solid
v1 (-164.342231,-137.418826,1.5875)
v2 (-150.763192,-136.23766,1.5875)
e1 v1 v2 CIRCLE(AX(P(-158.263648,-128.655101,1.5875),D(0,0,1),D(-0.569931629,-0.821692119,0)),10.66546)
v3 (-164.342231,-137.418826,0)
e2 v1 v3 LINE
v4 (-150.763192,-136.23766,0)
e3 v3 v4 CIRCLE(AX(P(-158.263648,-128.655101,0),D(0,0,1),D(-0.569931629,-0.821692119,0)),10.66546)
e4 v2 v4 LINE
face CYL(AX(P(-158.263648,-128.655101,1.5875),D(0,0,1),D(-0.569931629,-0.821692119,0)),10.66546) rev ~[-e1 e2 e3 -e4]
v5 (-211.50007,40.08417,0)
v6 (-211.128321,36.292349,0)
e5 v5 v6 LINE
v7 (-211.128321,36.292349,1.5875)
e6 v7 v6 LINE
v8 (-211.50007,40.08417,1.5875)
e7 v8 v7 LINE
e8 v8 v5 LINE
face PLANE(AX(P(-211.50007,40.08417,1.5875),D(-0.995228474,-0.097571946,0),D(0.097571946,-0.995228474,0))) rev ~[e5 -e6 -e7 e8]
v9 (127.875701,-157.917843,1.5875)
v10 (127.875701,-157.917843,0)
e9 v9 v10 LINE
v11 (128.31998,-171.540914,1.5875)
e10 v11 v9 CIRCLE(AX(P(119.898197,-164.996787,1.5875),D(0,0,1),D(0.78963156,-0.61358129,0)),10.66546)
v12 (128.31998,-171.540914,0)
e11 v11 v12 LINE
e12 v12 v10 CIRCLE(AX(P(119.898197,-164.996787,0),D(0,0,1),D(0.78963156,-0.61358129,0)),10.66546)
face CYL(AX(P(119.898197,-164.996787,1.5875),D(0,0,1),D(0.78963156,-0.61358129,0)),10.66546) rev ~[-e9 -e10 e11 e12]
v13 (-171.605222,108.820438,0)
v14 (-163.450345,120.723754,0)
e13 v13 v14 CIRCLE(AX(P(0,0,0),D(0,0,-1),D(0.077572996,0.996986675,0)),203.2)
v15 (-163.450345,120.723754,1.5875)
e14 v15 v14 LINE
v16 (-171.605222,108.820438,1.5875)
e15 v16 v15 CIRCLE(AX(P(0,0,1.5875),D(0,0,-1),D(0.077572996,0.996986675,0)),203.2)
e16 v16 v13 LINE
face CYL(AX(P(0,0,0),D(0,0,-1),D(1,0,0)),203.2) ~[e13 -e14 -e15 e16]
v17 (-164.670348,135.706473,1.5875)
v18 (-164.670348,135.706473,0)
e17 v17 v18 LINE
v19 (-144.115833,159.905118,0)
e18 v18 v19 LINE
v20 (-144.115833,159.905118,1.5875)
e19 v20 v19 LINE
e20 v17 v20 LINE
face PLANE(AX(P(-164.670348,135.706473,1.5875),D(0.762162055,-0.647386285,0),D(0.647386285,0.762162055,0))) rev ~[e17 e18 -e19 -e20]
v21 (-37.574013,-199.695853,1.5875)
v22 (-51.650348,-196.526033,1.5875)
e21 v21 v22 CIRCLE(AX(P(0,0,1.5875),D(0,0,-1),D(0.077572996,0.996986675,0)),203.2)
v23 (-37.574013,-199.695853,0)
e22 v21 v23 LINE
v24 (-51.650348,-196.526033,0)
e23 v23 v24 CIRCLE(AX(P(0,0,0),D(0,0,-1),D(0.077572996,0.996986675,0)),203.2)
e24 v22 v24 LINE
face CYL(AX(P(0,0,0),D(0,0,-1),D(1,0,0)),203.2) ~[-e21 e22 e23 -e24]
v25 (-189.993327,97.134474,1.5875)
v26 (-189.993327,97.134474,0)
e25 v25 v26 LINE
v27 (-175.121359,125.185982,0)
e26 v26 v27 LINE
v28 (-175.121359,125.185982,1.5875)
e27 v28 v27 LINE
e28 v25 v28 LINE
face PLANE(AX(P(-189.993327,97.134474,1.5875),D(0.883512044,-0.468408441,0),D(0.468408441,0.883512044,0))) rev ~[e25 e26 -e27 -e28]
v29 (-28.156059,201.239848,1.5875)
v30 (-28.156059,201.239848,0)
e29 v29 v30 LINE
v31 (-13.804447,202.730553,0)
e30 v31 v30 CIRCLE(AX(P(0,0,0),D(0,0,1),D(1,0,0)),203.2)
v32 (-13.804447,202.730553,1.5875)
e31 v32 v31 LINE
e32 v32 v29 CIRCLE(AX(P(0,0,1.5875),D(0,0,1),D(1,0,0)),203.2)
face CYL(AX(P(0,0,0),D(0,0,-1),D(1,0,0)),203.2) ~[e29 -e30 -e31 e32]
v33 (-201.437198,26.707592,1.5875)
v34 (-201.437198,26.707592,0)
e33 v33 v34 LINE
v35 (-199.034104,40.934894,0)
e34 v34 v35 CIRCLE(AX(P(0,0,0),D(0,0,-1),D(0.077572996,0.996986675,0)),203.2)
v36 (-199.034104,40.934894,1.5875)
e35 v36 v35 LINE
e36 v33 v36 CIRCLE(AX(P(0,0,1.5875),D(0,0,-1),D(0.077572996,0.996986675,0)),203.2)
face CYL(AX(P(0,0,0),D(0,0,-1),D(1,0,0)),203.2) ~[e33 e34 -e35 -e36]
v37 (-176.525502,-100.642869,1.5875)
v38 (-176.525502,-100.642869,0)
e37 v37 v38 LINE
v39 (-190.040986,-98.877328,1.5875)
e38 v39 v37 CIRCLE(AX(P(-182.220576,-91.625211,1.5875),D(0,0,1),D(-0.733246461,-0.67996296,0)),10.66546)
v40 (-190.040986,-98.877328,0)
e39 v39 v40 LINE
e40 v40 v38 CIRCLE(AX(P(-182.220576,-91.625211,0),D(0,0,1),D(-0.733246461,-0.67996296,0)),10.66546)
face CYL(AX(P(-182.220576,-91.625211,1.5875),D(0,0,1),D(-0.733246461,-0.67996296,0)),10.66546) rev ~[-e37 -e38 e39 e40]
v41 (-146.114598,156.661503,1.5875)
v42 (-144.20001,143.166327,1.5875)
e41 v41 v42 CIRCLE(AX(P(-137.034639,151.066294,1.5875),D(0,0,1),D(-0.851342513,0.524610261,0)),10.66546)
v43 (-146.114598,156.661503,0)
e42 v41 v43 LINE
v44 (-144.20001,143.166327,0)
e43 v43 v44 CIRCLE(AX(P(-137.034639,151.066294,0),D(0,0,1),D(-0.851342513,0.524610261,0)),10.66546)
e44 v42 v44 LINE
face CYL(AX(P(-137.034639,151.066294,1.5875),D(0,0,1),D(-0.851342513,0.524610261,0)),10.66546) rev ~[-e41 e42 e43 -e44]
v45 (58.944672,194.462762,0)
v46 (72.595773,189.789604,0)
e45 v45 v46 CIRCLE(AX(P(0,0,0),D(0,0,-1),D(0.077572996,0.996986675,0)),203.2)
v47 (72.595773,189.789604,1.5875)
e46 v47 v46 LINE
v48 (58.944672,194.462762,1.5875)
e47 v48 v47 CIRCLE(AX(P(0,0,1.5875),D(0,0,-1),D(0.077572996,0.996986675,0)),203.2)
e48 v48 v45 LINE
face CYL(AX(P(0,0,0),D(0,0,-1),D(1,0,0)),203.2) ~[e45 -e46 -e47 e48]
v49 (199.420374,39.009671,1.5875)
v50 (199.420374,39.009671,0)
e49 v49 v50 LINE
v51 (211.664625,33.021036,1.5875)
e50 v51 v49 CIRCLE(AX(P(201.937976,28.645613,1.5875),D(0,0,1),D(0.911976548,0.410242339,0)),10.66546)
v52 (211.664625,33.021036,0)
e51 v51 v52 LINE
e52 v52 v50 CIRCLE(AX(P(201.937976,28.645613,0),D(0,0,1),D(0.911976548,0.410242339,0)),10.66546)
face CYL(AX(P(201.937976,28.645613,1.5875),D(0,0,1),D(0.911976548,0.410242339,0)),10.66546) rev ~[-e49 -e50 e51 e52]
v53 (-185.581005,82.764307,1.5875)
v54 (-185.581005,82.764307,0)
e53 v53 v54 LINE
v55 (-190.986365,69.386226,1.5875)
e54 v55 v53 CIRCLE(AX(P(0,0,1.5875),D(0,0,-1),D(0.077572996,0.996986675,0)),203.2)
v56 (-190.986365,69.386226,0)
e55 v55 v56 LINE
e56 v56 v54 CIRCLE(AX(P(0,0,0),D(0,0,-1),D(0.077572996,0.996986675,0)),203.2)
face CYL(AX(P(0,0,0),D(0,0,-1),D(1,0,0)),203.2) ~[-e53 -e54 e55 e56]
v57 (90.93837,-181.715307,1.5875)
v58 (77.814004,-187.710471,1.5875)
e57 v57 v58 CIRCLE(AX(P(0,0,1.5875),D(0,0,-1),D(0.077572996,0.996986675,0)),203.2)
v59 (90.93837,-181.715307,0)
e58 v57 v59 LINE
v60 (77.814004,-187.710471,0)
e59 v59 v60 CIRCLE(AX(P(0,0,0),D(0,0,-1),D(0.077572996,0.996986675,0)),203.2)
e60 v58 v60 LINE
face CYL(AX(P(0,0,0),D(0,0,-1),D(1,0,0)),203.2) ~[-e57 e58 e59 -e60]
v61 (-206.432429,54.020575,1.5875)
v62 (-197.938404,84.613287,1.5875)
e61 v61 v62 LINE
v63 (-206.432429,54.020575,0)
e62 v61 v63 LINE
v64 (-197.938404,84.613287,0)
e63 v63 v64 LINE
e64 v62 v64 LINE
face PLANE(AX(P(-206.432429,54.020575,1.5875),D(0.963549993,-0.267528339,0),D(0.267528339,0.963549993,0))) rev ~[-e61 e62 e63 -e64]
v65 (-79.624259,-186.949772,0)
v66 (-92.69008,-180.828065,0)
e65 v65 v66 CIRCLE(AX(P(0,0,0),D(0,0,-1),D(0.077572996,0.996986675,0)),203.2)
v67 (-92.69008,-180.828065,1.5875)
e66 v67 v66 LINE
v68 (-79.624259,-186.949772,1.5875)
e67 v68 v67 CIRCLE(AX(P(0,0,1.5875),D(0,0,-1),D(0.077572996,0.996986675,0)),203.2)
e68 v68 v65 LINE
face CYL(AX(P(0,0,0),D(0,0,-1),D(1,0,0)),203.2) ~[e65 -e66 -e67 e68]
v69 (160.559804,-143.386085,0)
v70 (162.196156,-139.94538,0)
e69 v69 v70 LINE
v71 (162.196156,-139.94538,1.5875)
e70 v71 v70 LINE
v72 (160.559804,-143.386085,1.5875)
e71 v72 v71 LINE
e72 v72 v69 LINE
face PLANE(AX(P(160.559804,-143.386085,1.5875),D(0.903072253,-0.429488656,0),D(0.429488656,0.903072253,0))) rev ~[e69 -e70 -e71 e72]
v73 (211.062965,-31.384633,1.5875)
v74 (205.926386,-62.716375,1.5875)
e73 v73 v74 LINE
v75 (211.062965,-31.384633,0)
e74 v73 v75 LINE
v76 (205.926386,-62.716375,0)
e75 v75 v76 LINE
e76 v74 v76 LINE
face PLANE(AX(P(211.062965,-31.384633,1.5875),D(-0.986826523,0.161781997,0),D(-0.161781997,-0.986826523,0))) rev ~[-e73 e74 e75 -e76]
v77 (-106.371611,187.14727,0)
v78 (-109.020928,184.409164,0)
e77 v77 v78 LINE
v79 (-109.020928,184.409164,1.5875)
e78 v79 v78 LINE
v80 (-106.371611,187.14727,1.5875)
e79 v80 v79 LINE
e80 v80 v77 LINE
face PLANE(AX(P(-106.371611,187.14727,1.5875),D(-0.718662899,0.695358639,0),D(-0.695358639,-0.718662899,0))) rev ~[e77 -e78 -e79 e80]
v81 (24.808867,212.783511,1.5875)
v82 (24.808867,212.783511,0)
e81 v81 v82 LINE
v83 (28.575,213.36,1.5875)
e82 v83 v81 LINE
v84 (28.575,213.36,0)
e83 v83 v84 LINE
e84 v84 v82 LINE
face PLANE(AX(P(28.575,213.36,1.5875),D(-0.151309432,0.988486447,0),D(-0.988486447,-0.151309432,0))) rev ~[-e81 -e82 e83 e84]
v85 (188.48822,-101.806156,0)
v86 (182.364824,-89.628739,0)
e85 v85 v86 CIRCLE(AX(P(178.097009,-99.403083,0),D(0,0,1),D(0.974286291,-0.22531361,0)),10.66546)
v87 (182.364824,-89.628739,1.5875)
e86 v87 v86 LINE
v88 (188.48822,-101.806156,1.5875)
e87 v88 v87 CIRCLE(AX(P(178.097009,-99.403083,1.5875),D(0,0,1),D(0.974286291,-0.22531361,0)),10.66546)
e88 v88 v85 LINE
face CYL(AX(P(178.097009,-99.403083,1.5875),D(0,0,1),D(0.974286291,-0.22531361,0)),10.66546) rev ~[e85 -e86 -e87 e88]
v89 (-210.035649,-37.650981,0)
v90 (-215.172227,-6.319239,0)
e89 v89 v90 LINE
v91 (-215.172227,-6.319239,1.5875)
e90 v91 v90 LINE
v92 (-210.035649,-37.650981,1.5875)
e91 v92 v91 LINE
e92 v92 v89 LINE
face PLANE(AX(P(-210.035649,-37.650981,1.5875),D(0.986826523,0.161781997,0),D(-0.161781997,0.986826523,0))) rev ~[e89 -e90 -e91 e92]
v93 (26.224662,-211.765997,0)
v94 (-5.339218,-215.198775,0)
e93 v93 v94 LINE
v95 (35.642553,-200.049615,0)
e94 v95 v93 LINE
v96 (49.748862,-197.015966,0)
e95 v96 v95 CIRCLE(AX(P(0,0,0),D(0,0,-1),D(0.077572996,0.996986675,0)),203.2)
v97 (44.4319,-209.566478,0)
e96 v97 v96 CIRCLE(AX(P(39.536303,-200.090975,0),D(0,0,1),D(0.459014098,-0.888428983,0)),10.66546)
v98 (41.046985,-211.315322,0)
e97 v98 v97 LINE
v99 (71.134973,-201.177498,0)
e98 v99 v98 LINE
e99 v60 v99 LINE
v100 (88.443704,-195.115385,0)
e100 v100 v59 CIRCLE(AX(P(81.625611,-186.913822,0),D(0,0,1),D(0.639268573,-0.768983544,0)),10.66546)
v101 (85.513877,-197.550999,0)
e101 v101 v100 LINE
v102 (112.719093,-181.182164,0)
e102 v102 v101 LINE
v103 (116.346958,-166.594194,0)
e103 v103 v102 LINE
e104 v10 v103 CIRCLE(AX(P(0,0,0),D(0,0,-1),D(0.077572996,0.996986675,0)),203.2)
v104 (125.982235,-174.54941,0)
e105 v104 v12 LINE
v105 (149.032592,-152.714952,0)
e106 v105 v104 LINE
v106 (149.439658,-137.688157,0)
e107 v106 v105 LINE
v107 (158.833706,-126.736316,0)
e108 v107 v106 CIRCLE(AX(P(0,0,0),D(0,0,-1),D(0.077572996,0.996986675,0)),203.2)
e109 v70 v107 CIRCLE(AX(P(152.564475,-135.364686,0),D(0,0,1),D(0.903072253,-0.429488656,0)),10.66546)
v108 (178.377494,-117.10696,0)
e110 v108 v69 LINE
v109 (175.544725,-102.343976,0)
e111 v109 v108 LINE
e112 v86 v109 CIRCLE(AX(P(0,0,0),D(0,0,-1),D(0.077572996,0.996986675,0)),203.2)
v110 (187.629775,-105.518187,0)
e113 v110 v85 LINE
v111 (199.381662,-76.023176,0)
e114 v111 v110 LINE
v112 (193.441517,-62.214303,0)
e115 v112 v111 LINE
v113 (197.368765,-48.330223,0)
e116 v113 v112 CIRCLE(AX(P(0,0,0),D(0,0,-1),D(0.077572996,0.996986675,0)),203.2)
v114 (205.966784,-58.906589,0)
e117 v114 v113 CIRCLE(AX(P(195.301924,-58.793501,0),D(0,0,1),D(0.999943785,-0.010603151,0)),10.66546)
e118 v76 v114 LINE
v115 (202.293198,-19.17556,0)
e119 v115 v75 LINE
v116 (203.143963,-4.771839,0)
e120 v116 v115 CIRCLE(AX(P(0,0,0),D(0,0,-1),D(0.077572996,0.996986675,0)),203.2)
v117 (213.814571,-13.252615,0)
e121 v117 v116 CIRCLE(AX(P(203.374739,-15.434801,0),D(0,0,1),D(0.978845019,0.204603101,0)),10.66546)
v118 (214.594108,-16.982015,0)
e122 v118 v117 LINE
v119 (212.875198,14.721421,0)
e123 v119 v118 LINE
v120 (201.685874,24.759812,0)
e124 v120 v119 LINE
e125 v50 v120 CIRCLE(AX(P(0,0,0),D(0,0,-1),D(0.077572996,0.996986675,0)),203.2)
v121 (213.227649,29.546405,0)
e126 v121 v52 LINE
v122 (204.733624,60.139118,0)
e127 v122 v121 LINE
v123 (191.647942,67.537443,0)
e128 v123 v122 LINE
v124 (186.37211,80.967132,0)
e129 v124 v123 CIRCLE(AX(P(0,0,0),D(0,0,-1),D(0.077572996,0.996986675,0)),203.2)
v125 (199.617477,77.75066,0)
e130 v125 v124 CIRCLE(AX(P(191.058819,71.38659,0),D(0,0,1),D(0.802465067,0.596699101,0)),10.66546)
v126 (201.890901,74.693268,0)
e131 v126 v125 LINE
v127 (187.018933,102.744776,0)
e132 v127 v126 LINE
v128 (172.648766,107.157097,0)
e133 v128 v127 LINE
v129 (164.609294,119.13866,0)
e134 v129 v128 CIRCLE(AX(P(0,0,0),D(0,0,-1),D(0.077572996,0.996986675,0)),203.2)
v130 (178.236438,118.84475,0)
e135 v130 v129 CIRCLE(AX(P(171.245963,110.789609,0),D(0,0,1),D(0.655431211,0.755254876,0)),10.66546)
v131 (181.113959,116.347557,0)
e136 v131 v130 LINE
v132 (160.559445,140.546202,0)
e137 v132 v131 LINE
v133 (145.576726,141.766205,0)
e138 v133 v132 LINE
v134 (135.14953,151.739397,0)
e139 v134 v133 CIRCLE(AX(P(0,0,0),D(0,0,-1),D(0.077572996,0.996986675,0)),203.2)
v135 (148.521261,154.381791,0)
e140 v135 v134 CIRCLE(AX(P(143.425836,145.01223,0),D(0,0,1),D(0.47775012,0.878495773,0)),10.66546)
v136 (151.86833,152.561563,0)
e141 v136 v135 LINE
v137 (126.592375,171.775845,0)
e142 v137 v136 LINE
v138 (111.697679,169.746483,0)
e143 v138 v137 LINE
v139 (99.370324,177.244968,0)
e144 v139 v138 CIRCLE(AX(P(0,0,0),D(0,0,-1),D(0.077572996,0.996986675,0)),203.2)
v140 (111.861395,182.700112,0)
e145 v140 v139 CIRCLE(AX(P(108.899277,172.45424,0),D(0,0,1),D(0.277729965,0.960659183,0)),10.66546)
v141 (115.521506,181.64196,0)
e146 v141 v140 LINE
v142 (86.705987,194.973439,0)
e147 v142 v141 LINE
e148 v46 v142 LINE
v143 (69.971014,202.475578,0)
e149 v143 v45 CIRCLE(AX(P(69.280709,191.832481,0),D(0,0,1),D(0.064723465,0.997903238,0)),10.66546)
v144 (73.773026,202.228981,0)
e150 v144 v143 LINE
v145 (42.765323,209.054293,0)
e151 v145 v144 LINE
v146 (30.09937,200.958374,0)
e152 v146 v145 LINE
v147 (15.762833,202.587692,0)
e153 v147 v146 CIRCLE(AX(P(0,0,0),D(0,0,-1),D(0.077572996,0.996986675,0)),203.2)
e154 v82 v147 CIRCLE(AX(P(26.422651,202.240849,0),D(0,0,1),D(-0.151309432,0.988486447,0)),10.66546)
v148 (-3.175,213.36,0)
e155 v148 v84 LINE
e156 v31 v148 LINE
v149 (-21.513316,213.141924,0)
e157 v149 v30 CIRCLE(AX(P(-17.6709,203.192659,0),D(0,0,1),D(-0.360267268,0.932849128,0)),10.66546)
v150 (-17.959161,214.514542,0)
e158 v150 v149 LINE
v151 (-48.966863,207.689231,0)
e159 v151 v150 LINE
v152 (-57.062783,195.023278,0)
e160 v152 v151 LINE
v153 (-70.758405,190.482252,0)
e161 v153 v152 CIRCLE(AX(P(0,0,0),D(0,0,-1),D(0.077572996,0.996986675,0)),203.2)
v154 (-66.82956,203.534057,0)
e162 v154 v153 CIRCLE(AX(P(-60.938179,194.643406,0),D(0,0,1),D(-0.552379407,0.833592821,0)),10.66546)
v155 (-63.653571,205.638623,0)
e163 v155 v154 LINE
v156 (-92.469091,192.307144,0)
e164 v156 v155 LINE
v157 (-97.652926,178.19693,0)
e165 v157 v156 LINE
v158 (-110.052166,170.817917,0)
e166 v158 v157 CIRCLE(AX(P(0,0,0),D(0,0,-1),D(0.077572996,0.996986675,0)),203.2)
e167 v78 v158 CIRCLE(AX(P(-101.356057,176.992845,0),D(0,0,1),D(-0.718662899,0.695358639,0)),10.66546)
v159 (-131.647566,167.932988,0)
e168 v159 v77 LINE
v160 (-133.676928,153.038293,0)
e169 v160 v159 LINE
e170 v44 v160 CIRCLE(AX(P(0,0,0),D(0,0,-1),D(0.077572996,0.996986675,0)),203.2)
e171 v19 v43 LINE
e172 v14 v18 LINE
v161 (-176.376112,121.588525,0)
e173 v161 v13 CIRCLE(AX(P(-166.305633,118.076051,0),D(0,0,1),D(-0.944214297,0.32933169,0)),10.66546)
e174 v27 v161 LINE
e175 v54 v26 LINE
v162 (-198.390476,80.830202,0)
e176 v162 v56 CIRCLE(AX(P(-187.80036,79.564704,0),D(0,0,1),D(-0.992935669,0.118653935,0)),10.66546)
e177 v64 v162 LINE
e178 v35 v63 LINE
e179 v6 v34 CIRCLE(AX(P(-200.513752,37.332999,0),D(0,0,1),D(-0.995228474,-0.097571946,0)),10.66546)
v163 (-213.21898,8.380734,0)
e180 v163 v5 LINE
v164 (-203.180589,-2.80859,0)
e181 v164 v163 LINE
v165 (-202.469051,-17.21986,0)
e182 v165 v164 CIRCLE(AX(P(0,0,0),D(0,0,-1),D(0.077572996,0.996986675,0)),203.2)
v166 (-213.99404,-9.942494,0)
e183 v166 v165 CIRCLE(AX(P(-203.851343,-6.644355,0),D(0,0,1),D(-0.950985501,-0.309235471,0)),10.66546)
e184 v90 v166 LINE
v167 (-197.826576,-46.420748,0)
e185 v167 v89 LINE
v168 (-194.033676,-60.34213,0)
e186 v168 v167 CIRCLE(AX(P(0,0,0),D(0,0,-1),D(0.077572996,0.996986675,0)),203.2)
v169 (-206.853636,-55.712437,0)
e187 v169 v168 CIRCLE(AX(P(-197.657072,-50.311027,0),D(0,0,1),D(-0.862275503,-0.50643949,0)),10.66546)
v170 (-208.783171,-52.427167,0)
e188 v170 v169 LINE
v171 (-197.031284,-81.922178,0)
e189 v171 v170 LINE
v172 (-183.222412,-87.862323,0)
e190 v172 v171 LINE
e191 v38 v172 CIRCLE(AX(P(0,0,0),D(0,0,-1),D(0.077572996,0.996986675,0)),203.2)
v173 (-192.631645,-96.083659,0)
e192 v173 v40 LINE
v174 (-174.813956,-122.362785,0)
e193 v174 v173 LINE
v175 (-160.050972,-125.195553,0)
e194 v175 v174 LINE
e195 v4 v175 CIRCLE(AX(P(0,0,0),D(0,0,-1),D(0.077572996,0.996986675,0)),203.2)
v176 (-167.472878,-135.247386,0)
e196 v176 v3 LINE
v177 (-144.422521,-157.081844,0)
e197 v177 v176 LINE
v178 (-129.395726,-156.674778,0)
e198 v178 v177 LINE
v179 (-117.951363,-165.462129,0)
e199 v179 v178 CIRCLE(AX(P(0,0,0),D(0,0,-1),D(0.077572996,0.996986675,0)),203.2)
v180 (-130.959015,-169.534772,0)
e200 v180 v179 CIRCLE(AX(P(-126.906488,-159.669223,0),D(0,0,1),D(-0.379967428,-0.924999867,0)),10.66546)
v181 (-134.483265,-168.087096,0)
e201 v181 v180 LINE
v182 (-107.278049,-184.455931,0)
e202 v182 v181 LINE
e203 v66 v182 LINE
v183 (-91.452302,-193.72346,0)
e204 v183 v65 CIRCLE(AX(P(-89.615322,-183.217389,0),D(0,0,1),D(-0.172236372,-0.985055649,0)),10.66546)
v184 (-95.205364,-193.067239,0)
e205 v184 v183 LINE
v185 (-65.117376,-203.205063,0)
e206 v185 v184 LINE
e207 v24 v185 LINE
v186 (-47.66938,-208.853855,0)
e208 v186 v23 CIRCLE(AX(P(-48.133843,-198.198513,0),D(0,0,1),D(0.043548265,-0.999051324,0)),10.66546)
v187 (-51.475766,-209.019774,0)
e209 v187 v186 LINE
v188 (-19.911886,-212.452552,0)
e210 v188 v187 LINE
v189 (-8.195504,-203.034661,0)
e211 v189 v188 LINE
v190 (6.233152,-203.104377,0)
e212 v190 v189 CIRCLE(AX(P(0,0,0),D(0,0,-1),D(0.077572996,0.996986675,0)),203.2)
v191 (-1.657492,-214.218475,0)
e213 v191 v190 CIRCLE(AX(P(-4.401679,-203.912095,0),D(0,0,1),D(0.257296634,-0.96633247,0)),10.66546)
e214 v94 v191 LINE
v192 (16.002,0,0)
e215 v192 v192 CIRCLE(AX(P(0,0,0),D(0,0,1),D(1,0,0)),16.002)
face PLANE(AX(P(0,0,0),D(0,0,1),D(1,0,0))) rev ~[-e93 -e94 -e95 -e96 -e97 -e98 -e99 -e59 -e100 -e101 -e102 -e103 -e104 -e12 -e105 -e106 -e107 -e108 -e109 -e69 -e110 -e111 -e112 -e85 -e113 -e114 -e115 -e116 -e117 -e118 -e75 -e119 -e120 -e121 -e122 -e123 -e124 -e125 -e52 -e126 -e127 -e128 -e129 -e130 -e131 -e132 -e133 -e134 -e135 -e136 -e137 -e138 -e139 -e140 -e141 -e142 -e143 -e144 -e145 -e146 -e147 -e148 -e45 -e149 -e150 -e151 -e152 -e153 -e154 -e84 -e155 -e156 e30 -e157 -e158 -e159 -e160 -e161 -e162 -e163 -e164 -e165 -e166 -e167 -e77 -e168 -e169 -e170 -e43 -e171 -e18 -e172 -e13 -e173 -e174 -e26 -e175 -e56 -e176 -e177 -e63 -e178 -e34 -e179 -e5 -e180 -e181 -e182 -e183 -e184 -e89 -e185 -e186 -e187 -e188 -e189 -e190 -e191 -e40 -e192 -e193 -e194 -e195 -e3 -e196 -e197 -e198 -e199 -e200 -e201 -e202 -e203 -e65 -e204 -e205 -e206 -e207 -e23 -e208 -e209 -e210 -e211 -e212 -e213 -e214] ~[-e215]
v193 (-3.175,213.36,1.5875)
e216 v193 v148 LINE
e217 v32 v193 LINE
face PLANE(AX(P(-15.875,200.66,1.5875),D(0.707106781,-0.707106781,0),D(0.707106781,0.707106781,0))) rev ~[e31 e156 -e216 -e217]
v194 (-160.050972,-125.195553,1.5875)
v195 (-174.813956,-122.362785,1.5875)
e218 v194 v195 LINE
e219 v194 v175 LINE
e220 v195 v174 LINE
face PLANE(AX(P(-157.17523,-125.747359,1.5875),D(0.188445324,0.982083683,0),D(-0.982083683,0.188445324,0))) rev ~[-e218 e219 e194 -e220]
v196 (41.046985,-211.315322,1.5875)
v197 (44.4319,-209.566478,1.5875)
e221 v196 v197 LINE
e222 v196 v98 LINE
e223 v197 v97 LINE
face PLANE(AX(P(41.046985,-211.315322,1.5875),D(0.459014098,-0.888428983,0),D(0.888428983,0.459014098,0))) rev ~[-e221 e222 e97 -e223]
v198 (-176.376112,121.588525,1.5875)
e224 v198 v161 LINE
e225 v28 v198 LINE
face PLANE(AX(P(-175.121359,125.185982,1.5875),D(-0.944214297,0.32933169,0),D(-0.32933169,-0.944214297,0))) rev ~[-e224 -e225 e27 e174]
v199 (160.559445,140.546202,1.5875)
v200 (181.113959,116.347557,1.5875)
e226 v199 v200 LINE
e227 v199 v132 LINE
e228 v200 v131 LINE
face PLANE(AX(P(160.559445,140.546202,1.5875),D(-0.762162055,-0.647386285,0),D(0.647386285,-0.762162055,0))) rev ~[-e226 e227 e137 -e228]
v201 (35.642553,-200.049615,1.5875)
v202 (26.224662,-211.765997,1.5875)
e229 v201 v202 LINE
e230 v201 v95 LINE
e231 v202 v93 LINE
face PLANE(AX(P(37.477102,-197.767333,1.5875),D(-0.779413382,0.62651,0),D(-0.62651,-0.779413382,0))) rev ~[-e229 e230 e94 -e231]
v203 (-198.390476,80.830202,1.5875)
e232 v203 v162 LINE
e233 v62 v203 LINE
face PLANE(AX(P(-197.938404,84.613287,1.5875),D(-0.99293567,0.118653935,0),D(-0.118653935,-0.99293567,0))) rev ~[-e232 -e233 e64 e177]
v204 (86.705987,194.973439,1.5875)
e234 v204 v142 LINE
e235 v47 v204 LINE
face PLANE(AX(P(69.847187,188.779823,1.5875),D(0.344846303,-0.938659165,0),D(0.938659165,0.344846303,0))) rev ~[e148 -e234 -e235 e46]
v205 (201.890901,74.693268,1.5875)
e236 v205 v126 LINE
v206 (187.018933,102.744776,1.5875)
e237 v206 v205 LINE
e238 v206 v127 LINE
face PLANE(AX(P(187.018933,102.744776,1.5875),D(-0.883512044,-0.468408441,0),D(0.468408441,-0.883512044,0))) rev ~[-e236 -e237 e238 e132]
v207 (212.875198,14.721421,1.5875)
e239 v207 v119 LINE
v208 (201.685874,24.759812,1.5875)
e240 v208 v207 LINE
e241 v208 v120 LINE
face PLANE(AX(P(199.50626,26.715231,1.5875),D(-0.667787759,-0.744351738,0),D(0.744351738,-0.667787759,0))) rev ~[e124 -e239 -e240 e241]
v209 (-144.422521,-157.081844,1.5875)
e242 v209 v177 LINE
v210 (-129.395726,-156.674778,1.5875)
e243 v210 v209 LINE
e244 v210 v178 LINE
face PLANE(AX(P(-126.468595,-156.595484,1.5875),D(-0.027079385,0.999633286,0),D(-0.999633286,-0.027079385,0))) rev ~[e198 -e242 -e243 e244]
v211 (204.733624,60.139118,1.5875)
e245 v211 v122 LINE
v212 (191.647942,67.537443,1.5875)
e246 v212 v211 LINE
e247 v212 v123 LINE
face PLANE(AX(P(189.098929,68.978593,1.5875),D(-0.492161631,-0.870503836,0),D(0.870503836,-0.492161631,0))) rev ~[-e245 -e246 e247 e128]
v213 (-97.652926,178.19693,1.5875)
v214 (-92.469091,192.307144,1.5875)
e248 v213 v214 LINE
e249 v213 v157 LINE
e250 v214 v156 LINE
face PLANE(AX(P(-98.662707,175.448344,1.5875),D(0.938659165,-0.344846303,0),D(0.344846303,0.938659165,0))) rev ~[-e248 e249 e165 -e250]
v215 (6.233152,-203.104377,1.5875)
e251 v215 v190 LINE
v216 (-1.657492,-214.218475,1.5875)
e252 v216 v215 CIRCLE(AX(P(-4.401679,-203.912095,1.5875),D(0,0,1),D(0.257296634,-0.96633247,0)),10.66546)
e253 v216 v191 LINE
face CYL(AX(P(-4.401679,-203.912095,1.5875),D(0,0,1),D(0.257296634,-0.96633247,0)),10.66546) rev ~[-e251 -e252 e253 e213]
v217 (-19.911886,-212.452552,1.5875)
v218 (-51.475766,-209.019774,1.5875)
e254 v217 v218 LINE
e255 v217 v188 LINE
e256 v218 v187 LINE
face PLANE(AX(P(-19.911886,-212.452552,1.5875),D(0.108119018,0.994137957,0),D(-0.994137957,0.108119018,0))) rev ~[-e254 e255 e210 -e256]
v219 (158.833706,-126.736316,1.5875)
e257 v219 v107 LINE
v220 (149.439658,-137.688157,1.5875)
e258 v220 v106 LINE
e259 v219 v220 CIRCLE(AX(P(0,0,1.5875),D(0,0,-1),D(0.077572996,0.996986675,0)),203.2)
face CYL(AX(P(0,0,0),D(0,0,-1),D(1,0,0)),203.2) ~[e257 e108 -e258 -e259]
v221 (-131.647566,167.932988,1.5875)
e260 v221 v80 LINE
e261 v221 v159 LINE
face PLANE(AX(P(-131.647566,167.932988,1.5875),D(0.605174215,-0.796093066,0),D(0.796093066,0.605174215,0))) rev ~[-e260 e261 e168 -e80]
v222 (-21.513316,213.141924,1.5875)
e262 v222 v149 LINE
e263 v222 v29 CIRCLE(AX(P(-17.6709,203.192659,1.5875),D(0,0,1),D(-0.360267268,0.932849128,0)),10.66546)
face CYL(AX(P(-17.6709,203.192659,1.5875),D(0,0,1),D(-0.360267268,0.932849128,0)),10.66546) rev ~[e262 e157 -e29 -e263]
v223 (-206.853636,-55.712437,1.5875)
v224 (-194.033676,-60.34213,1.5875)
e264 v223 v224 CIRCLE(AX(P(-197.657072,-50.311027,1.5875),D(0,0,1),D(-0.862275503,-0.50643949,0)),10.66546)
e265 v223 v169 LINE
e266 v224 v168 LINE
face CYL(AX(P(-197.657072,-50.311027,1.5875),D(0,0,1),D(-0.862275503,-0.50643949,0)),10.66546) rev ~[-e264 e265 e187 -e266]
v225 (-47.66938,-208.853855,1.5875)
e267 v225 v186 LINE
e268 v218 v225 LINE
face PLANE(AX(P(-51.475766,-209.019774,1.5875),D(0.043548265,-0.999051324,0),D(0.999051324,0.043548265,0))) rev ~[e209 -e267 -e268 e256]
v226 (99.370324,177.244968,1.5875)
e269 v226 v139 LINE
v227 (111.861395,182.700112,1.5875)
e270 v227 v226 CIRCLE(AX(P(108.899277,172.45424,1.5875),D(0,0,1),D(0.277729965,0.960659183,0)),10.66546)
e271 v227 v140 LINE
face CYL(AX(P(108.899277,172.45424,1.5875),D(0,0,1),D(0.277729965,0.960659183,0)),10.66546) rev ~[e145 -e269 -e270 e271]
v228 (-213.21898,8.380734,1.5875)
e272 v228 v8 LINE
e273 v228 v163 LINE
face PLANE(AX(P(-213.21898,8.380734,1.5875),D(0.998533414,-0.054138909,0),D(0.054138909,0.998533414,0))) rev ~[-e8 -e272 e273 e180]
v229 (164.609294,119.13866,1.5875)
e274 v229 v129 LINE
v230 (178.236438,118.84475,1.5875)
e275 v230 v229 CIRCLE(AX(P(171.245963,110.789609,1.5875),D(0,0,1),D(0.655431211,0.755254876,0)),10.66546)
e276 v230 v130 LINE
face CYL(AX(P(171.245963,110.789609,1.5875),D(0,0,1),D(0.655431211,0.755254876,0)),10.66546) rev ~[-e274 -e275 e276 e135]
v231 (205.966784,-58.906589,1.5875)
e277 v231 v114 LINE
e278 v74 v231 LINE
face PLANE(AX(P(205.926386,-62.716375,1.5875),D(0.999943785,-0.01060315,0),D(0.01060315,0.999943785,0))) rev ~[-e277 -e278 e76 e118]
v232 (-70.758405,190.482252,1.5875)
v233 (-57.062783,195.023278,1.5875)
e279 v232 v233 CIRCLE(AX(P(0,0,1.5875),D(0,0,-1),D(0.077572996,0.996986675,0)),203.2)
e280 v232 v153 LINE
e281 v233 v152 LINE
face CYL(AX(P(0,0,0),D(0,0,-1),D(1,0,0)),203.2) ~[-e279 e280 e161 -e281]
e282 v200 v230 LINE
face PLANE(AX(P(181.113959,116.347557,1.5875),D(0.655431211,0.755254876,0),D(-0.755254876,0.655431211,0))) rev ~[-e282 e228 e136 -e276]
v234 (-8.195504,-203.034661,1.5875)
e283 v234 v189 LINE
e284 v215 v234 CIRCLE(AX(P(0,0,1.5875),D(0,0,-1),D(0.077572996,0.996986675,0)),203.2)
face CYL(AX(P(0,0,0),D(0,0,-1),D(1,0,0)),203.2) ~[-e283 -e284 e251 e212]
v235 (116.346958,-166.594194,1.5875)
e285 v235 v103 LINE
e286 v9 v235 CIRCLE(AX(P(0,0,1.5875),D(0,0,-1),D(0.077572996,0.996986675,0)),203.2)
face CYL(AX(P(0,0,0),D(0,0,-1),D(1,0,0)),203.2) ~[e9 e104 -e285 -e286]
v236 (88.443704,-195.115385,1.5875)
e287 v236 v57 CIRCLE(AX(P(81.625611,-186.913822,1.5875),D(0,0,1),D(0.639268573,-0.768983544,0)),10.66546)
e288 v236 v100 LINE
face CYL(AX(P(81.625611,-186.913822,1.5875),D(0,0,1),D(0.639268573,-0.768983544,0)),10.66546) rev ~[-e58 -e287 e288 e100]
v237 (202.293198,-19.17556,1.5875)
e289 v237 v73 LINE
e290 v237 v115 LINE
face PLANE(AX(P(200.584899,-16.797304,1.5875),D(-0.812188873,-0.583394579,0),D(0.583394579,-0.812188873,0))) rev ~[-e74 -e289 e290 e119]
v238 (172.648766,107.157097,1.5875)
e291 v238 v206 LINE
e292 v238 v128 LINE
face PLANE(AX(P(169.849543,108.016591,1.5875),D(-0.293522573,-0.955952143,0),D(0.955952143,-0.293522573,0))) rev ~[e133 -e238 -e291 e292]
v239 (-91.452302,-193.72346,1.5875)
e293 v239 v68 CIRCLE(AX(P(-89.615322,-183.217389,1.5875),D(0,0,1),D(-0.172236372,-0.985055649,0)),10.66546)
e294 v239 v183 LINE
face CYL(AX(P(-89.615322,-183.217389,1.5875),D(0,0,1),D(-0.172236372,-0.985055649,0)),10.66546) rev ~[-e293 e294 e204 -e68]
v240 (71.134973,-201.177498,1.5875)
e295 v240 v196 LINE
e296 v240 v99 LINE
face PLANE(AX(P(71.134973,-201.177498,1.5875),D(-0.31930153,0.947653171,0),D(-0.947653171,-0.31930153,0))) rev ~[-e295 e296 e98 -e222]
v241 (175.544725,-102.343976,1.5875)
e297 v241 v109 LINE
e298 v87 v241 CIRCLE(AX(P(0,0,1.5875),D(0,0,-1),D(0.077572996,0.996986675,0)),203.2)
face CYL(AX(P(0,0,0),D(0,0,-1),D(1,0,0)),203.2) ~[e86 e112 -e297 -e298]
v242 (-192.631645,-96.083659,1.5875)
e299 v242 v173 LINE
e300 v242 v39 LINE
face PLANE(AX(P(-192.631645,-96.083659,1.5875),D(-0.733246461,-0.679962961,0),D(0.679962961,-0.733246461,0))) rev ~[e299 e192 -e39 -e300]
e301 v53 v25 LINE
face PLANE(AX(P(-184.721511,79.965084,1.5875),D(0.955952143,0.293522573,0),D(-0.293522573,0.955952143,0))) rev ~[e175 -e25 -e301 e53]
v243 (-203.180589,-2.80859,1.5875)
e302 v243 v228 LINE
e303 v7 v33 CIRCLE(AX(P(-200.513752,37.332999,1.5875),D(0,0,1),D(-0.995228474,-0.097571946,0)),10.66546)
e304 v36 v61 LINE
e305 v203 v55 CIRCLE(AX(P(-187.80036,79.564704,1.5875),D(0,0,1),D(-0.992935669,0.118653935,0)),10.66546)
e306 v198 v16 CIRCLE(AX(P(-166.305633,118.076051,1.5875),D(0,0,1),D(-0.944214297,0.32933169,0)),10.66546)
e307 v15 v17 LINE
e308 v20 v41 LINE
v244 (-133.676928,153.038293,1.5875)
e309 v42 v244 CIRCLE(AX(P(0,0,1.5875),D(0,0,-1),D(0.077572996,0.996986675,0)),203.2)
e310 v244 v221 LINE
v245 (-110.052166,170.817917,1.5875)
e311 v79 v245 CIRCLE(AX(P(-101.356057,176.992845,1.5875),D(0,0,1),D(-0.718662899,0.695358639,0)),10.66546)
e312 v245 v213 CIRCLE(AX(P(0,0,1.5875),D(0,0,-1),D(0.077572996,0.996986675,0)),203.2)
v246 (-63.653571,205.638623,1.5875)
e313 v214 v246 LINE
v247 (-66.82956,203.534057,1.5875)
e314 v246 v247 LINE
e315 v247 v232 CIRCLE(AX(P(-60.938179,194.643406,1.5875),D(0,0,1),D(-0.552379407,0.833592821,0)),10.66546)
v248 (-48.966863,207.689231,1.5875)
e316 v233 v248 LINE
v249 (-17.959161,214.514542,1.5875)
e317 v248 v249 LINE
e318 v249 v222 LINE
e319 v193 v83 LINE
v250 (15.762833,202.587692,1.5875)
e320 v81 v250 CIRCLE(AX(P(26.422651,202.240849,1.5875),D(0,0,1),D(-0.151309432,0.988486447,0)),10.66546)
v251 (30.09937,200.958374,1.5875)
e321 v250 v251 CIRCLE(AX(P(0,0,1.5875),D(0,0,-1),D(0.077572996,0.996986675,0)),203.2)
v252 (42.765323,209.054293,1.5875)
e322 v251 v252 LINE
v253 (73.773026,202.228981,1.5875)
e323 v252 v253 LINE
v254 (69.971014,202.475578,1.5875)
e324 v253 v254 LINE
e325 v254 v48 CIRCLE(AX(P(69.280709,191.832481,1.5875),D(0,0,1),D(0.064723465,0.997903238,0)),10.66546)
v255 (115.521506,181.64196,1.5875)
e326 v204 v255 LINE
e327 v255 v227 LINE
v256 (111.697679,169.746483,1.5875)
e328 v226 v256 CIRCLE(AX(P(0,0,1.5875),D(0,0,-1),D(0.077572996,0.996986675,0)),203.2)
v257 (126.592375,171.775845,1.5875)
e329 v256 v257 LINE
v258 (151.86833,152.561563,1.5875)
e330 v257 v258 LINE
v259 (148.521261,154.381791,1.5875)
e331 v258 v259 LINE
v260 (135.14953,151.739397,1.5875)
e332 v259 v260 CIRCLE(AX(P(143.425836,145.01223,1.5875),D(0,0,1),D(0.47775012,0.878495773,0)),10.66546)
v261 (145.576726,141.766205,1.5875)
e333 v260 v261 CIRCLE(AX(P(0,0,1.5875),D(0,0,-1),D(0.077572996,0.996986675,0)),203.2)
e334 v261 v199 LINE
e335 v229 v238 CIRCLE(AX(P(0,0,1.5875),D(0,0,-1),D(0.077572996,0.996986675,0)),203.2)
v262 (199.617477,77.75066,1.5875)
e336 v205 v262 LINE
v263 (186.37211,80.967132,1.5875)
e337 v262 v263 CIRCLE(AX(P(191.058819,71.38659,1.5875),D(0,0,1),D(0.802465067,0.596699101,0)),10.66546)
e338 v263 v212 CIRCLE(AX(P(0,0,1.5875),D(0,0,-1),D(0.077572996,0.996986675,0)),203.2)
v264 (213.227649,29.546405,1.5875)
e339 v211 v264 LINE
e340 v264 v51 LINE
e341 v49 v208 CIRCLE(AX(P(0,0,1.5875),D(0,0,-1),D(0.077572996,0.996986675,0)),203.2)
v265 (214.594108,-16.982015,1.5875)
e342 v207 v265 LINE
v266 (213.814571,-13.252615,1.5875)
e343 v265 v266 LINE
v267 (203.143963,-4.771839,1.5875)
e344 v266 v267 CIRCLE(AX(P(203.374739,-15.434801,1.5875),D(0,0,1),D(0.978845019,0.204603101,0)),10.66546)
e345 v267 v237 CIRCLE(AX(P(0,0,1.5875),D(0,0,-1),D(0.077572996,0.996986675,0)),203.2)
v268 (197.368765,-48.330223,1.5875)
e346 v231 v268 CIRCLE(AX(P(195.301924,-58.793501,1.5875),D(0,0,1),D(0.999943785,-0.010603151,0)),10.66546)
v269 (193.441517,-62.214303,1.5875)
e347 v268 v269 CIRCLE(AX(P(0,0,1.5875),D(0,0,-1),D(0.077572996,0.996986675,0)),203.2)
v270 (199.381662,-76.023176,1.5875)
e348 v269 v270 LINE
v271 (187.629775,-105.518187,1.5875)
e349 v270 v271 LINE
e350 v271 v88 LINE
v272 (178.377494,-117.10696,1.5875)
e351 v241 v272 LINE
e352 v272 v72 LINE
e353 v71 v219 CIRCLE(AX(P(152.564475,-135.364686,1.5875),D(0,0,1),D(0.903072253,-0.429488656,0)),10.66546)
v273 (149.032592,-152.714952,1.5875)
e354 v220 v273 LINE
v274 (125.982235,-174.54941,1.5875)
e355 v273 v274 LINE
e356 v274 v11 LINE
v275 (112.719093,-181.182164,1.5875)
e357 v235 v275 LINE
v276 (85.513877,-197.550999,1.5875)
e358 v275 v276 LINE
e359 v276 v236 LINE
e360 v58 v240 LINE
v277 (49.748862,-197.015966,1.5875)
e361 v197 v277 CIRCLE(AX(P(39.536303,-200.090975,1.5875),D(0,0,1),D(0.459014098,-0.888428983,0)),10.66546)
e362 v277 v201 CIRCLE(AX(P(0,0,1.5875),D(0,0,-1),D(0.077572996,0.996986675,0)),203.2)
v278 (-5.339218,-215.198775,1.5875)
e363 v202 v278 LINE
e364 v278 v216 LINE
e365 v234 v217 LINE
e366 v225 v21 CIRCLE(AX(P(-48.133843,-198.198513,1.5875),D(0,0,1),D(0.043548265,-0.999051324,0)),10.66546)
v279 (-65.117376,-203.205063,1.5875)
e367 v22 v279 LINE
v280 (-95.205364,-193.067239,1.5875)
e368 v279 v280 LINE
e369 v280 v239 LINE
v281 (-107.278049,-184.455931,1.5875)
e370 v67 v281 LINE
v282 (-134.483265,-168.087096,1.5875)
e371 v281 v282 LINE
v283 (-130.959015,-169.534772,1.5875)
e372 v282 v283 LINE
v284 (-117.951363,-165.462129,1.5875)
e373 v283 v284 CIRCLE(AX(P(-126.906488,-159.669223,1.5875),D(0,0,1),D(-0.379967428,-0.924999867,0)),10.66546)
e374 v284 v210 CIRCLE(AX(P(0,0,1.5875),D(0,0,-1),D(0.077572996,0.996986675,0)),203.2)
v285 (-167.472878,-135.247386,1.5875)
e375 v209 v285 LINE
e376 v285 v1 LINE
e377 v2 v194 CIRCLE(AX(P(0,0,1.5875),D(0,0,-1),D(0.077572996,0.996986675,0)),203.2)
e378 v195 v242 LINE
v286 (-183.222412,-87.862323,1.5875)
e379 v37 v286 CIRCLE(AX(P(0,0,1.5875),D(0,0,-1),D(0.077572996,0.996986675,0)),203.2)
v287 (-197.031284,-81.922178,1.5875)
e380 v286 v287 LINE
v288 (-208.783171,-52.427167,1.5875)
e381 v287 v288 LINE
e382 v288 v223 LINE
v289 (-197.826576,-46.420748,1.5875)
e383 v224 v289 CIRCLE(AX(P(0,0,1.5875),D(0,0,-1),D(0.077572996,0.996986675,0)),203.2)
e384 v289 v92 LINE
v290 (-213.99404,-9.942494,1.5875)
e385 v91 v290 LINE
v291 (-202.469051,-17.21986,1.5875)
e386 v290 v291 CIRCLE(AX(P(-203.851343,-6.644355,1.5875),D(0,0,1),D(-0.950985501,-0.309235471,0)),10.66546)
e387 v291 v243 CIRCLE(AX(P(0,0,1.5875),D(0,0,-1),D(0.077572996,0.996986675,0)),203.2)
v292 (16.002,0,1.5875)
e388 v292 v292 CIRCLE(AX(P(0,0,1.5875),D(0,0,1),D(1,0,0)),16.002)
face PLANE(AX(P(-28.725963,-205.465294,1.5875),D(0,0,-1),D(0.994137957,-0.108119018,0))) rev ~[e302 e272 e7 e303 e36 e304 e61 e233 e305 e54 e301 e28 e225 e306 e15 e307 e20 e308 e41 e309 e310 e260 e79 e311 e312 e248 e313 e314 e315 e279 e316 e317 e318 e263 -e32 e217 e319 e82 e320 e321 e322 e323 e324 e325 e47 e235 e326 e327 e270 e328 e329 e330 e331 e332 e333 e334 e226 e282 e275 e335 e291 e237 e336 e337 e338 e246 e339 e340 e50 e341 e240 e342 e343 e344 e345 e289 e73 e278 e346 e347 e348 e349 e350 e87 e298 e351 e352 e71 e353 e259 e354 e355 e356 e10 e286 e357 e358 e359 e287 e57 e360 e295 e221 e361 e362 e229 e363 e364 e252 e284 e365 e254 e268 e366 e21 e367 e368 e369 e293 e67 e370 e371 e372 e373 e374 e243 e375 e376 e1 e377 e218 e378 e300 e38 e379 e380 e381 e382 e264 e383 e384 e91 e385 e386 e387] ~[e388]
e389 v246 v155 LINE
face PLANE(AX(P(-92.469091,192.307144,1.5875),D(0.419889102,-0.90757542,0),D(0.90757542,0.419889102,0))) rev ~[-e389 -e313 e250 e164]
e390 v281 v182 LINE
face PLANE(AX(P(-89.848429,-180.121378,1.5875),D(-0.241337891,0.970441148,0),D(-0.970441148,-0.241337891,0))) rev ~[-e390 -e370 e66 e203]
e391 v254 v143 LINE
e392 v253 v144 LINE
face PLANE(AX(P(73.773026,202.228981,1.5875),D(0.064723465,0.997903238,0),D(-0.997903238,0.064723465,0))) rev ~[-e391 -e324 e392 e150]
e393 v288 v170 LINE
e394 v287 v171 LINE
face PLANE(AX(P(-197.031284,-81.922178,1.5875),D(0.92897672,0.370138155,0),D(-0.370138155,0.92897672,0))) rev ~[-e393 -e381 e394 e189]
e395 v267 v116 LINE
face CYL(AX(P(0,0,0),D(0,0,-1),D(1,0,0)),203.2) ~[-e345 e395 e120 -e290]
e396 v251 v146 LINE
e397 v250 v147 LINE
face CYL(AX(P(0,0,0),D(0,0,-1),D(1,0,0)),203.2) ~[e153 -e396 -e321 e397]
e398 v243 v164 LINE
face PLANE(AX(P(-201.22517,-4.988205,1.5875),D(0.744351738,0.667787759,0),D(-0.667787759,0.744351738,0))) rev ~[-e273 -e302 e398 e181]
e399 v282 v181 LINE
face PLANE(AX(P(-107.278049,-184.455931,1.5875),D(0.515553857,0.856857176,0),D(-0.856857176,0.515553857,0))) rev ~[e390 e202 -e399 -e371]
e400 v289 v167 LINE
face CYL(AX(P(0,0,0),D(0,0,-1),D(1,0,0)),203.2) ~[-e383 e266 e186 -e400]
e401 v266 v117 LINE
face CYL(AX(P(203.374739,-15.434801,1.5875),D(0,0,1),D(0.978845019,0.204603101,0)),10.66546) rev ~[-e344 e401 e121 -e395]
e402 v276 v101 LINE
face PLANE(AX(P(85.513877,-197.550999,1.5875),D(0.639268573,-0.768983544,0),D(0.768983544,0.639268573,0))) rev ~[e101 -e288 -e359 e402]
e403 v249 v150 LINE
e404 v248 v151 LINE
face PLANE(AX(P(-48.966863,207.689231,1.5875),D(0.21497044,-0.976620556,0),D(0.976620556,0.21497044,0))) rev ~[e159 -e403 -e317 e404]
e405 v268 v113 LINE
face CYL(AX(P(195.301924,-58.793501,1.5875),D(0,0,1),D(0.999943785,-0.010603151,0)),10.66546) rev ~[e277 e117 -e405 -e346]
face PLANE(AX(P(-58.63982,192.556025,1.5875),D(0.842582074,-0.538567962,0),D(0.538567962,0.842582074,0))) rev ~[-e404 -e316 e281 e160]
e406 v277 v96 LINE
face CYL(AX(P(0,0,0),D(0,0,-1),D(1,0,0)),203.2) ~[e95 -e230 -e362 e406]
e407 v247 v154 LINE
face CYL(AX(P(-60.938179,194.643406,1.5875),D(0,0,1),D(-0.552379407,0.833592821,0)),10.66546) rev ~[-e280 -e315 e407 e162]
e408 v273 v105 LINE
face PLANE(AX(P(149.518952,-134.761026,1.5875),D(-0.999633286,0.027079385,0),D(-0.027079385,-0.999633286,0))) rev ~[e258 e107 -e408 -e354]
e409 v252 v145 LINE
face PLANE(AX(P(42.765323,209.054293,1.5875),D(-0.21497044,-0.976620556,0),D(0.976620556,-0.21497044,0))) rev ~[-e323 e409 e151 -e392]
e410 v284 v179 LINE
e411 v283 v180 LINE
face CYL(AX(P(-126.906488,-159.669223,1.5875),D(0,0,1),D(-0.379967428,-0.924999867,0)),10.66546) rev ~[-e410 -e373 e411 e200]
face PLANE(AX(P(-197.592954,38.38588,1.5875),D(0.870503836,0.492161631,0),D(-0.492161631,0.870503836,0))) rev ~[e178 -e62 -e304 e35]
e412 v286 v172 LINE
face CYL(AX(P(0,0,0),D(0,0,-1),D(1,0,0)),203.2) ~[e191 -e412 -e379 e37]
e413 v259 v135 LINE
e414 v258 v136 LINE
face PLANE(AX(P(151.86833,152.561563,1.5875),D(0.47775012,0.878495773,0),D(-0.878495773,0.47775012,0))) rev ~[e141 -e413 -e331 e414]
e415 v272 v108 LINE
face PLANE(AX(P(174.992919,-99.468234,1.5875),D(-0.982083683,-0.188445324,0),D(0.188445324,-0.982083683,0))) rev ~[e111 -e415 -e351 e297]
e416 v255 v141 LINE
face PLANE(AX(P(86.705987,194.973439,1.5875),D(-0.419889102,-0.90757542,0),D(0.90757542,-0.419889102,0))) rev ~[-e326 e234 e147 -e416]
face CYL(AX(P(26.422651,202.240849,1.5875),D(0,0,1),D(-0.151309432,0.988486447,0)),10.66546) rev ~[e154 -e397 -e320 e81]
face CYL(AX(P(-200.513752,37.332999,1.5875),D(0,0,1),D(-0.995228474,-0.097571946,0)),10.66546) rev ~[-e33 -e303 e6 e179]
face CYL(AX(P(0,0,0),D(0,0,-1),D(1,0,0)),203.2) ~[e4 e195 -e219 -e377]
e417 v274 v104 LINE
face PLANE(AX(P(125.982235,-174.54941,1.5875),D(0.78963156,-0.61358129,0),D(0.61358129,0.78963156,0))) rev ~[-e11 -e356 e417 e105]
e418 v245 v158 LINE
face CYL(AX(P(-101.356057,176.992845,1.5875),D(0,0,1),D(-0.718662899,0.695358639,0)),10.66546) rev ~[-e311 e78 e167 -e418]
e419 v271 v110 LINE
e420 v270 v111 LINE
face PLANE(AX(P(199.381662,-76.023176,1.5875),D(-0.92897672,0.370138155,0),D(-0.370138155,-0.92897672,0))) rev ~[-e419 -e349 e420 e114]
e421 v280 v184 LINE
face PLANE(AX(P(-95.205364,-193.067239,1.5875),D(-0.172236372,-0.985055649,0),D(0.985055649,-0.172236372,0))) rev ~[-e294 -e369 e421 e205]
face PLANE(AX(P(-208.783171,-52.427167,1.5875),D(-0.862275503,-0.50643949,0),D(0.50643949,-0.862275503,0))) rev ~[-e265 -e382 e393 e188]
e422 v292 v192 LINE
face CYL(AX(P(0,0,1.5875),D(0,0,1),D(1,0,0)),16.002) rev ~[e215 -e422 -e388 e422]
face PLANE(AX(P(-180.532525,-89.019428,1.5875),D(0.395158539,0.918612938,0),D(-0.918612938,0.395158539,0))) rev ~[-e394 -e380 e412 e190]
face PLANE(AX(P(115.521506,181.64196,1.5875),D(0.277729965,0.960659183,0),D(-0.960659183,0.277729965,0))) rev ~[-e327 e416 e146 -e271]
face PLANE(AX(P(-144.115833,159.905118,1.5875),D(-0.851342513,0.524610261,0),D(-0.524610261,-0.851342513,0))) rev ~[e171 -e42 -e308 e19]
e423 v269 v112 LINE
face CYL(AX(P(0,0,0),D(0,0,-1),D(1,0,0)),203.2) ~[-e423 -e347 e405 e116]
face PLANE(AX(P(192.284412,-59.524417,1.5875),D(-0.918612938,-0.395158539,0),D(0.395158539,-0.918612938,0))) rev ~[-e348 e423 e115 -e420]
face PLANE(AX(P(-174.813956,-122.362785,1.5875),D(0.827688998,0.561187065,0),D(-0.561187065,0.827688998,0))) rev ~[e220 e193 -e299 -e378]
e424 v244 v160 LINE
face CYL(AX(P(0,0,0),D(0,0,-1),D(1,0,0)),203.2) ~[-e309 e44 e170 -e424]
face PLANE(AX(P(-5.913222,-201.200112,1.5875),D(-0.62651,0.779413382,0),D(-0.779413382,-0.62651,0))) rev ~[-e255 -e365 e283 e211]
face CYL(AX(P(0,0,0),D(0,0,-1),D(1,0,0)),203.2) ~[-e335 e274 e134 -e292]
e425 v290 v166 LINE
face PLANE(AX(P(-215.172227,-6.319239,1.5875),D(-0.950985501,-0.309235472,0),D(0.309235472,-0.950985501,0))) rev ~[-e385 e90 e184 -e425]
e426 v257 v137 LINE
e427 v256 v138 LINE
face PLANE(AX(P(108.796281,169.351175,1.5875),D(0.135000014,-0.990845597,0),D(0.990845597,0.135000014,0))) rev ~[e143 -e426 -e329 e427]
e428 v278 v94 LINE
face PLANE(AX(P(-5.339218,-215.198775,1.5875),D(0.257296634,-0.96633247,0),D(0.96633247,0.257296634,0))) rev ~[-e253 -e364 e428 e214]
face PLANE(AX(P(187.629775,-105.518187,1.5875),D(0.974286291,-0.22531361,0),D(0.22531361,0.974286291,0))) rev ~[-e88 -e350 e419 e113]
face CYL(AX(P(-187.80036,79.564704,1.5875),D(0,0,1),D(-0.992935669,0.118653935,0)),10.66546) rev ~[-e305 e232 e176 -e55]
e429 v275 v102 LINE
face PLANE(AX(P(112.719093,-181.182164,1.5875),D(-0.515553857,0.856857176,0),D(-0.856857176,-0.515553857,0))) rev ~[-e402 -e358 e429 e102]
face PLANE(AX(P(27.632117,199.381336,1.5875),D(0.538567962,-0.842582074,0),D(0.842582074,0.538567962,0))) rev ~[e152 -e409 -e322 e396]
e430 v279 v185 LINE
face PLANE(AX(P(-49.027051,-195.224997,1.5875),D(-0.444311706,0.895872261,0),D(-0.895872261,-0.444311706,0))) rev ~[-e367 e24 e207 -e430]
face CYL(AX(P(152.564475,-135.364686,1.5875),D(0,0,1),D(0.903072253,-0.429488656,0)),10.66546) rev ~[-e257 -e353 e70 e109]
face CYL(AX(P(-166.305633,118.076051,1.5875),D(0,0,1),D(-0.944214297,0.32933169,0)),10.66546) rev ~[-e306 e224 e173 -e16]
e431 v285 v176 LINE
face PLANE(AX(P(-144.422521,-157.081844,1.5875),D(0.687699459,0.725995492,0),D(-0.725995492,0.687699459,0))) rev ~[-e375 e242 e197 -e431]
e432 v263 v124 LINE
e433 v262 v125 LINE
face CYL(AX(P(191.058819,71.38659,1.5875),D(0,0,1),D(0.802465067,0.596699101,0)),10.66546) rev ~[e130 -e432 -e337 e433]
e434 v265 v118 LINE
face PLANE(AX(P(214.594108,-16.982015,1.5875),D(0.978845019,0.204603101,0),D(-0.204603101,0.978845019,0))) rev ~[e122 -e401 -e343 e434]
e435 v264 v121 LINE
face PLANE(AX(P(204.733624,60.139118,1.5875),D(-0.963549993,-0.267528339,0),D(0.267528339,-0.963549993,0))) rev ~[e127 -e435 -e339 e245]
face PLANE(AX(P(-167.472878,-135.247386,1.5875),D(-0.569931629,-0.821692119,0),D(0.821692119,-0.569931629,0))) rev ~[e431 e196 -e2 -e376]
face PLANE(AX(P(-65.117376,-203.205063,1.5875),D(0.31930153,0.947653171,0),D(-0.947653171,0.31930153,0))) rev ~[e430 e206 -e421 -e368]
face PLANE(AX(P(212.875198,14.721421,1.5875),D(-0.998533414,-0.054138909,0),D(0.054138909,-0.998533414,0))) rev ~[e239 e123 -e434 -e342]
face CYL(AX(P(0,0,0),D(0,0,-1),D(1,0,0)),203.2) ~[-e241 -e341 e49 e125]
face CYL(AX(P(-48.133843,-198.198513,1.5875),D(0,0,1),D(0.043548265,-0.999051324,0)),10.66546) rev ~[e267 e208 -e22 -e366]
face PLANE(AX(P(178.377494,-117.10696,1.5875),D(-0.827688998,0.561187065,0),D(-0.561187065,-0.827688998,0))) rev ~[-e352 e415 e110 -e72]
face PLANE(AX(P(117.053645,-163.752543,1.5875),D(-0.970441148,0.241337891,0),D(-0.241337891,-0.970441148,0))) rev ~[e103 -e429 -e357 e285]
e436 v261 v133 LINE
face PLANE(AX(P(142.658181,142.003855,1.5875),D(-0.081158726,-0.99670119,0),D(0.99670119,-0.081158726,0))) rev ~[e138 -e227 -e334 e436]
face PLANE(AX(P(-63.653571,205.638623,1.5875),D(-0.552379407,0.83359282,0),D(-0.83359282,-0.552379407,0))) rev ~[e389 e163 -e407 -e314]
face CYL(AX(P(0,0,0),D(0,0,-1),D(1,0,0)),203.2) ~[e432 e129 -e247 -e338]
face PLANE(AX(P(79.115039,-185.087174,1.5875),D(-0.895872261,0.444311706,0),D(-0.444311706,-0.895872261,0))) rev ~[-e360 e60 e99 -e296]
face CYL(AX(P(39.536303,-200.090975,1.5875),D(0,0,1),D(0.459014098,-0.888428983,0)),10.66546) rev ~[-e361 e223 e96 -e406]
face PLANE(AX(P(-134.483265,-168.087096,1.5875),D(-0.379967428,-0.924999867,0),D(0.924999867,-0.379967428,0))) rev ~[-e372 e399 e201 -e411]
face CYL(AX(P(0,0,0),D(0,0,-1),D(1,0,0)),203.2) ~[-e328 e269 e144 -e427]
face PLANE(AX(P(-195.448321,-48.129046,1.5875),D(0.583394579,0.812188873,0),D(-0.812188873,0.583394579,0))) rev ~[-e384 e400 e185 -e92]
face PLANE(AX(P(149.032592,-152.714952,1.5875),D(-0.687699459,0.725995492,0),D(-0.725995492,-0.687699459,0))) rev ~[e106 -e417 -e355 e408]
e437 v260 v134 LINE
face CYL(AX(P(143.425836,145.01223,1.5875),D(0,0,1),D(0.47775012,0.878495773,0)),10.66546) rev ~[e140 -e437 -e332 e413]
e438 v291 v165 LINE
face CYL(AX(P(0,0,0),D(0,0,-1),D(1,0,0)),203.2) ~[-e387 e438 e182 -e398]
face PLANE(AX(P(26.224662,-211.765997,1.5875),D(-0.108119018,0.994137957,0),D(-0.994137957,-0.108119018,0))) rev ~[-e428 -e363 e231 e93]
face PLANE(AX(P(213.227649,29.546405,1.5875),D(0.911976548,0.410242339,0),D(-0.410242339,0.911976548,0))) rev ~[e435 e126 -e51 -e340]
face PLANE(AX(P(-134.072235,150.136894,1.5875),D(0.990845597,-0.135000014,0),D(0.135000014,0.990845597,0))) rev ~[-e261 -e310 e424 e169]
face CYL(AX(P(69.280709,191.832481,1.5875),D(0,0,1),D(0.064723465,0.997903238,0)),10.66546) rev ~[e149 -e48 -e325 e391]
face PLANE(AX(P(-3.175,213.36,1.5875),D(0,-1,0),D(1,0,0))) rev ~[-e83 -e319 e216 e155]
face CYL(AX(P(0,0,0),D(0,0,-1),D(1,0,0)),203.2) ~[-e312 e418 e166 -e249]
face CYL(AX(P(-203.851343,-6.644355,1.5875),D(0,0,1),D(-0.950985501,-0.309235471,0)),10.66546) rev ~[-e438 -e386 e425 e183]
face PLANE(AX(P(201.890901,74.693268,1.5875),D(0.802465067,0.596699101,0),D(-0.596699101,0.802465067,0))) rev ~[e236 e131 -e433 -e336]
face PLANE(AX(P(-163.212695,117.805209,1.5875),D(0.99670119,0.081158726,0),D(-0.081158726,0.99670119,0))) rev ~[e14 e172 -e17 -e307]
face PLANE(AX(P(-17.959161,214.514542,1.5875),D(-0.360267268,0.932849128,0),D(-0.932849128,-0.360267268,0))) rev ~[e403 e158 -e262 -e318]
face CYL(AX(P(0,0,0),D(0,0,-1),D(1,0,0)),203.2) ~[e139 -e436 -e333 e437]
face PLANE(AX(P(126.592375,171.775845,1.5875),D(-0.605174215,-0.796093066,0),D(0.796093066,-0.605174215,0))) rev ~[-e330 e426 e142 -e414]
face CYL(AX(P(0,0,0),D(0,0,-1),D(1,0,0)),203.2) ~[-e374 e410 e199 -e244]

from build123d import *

# Parameters (mm, degrees)
SKETCH1_R           = 203.2
BOSS_EXTRUDE1_DEPTH = 1.5875
CUT_EXTRUDE1_REACH  = 289.373
SKETCH2_R           = 16.002
BOSS_EXTRUDE2_DEPTH = 1.5875
CIRPATTERN1_COUNT   = 29


with BuildPart() as part:
    # Sketch1 → Boss-Extrude1 (new body)
    with BuildSketch(Plane.XY):
        Circle(SKETCH1_R)
    extrude(amount=BOSS_EXTRUDE1_DEPTH)

    # Sketch2 → Cut-Extrude1 (cut, up to next)
    with BuildSketch(Plane.XY.offset(1.5875), mode=Mode.PRIVATE) as cut_extrude1_sk1:
        Circle(SKETCH2_R)
    cut_extrude1_tool1 = extrude(cut_extrude1_sk1.sketch, amount=-CUT_EXTRUDE1_REACH, mode=Mode.PRIVATE) & part.part
    add(cut_extrude1_tool1.solids().sort_by_distance((0, 0, 1.5875))[0], mode=Mode.SUBTRACT)

    # Sketch4 → Boss-Extrude2 (add)
    with BuildSketch(Plane.XY.offset(1.5875)):
        with BuildLine():
            Line((-15.875, 200.66), (-3.175, 213.36))
            Line((-3.175, 213.36), (28.575, 213.36))
            Line((28.575, 213.36), (24.808866637, 212.783511064))
            ThreePointArc((24.808866637, 212.783511064), (17.836615463, 208.567934868), (15.875, 200.66))
            Line((15.875, 200.66), (-15.875, 200.66))
        make_face()
    boss_extrude2 = extrude(amount=-BOSS_EXTRUDE2_DEPTH)

    # CirPattern1: Boss-Extrude2 ×29 about axis
    cirpattern1_axis = Axis((0, 0, 0), (0, 0, 1))
    for i in range(1, CIRPATTERN1_COUNT):
        add(boss_extrude2.rotate(cirpattern1_axis, i * 360 / CIRPATTERN1_COUNT))


solid = part.part
